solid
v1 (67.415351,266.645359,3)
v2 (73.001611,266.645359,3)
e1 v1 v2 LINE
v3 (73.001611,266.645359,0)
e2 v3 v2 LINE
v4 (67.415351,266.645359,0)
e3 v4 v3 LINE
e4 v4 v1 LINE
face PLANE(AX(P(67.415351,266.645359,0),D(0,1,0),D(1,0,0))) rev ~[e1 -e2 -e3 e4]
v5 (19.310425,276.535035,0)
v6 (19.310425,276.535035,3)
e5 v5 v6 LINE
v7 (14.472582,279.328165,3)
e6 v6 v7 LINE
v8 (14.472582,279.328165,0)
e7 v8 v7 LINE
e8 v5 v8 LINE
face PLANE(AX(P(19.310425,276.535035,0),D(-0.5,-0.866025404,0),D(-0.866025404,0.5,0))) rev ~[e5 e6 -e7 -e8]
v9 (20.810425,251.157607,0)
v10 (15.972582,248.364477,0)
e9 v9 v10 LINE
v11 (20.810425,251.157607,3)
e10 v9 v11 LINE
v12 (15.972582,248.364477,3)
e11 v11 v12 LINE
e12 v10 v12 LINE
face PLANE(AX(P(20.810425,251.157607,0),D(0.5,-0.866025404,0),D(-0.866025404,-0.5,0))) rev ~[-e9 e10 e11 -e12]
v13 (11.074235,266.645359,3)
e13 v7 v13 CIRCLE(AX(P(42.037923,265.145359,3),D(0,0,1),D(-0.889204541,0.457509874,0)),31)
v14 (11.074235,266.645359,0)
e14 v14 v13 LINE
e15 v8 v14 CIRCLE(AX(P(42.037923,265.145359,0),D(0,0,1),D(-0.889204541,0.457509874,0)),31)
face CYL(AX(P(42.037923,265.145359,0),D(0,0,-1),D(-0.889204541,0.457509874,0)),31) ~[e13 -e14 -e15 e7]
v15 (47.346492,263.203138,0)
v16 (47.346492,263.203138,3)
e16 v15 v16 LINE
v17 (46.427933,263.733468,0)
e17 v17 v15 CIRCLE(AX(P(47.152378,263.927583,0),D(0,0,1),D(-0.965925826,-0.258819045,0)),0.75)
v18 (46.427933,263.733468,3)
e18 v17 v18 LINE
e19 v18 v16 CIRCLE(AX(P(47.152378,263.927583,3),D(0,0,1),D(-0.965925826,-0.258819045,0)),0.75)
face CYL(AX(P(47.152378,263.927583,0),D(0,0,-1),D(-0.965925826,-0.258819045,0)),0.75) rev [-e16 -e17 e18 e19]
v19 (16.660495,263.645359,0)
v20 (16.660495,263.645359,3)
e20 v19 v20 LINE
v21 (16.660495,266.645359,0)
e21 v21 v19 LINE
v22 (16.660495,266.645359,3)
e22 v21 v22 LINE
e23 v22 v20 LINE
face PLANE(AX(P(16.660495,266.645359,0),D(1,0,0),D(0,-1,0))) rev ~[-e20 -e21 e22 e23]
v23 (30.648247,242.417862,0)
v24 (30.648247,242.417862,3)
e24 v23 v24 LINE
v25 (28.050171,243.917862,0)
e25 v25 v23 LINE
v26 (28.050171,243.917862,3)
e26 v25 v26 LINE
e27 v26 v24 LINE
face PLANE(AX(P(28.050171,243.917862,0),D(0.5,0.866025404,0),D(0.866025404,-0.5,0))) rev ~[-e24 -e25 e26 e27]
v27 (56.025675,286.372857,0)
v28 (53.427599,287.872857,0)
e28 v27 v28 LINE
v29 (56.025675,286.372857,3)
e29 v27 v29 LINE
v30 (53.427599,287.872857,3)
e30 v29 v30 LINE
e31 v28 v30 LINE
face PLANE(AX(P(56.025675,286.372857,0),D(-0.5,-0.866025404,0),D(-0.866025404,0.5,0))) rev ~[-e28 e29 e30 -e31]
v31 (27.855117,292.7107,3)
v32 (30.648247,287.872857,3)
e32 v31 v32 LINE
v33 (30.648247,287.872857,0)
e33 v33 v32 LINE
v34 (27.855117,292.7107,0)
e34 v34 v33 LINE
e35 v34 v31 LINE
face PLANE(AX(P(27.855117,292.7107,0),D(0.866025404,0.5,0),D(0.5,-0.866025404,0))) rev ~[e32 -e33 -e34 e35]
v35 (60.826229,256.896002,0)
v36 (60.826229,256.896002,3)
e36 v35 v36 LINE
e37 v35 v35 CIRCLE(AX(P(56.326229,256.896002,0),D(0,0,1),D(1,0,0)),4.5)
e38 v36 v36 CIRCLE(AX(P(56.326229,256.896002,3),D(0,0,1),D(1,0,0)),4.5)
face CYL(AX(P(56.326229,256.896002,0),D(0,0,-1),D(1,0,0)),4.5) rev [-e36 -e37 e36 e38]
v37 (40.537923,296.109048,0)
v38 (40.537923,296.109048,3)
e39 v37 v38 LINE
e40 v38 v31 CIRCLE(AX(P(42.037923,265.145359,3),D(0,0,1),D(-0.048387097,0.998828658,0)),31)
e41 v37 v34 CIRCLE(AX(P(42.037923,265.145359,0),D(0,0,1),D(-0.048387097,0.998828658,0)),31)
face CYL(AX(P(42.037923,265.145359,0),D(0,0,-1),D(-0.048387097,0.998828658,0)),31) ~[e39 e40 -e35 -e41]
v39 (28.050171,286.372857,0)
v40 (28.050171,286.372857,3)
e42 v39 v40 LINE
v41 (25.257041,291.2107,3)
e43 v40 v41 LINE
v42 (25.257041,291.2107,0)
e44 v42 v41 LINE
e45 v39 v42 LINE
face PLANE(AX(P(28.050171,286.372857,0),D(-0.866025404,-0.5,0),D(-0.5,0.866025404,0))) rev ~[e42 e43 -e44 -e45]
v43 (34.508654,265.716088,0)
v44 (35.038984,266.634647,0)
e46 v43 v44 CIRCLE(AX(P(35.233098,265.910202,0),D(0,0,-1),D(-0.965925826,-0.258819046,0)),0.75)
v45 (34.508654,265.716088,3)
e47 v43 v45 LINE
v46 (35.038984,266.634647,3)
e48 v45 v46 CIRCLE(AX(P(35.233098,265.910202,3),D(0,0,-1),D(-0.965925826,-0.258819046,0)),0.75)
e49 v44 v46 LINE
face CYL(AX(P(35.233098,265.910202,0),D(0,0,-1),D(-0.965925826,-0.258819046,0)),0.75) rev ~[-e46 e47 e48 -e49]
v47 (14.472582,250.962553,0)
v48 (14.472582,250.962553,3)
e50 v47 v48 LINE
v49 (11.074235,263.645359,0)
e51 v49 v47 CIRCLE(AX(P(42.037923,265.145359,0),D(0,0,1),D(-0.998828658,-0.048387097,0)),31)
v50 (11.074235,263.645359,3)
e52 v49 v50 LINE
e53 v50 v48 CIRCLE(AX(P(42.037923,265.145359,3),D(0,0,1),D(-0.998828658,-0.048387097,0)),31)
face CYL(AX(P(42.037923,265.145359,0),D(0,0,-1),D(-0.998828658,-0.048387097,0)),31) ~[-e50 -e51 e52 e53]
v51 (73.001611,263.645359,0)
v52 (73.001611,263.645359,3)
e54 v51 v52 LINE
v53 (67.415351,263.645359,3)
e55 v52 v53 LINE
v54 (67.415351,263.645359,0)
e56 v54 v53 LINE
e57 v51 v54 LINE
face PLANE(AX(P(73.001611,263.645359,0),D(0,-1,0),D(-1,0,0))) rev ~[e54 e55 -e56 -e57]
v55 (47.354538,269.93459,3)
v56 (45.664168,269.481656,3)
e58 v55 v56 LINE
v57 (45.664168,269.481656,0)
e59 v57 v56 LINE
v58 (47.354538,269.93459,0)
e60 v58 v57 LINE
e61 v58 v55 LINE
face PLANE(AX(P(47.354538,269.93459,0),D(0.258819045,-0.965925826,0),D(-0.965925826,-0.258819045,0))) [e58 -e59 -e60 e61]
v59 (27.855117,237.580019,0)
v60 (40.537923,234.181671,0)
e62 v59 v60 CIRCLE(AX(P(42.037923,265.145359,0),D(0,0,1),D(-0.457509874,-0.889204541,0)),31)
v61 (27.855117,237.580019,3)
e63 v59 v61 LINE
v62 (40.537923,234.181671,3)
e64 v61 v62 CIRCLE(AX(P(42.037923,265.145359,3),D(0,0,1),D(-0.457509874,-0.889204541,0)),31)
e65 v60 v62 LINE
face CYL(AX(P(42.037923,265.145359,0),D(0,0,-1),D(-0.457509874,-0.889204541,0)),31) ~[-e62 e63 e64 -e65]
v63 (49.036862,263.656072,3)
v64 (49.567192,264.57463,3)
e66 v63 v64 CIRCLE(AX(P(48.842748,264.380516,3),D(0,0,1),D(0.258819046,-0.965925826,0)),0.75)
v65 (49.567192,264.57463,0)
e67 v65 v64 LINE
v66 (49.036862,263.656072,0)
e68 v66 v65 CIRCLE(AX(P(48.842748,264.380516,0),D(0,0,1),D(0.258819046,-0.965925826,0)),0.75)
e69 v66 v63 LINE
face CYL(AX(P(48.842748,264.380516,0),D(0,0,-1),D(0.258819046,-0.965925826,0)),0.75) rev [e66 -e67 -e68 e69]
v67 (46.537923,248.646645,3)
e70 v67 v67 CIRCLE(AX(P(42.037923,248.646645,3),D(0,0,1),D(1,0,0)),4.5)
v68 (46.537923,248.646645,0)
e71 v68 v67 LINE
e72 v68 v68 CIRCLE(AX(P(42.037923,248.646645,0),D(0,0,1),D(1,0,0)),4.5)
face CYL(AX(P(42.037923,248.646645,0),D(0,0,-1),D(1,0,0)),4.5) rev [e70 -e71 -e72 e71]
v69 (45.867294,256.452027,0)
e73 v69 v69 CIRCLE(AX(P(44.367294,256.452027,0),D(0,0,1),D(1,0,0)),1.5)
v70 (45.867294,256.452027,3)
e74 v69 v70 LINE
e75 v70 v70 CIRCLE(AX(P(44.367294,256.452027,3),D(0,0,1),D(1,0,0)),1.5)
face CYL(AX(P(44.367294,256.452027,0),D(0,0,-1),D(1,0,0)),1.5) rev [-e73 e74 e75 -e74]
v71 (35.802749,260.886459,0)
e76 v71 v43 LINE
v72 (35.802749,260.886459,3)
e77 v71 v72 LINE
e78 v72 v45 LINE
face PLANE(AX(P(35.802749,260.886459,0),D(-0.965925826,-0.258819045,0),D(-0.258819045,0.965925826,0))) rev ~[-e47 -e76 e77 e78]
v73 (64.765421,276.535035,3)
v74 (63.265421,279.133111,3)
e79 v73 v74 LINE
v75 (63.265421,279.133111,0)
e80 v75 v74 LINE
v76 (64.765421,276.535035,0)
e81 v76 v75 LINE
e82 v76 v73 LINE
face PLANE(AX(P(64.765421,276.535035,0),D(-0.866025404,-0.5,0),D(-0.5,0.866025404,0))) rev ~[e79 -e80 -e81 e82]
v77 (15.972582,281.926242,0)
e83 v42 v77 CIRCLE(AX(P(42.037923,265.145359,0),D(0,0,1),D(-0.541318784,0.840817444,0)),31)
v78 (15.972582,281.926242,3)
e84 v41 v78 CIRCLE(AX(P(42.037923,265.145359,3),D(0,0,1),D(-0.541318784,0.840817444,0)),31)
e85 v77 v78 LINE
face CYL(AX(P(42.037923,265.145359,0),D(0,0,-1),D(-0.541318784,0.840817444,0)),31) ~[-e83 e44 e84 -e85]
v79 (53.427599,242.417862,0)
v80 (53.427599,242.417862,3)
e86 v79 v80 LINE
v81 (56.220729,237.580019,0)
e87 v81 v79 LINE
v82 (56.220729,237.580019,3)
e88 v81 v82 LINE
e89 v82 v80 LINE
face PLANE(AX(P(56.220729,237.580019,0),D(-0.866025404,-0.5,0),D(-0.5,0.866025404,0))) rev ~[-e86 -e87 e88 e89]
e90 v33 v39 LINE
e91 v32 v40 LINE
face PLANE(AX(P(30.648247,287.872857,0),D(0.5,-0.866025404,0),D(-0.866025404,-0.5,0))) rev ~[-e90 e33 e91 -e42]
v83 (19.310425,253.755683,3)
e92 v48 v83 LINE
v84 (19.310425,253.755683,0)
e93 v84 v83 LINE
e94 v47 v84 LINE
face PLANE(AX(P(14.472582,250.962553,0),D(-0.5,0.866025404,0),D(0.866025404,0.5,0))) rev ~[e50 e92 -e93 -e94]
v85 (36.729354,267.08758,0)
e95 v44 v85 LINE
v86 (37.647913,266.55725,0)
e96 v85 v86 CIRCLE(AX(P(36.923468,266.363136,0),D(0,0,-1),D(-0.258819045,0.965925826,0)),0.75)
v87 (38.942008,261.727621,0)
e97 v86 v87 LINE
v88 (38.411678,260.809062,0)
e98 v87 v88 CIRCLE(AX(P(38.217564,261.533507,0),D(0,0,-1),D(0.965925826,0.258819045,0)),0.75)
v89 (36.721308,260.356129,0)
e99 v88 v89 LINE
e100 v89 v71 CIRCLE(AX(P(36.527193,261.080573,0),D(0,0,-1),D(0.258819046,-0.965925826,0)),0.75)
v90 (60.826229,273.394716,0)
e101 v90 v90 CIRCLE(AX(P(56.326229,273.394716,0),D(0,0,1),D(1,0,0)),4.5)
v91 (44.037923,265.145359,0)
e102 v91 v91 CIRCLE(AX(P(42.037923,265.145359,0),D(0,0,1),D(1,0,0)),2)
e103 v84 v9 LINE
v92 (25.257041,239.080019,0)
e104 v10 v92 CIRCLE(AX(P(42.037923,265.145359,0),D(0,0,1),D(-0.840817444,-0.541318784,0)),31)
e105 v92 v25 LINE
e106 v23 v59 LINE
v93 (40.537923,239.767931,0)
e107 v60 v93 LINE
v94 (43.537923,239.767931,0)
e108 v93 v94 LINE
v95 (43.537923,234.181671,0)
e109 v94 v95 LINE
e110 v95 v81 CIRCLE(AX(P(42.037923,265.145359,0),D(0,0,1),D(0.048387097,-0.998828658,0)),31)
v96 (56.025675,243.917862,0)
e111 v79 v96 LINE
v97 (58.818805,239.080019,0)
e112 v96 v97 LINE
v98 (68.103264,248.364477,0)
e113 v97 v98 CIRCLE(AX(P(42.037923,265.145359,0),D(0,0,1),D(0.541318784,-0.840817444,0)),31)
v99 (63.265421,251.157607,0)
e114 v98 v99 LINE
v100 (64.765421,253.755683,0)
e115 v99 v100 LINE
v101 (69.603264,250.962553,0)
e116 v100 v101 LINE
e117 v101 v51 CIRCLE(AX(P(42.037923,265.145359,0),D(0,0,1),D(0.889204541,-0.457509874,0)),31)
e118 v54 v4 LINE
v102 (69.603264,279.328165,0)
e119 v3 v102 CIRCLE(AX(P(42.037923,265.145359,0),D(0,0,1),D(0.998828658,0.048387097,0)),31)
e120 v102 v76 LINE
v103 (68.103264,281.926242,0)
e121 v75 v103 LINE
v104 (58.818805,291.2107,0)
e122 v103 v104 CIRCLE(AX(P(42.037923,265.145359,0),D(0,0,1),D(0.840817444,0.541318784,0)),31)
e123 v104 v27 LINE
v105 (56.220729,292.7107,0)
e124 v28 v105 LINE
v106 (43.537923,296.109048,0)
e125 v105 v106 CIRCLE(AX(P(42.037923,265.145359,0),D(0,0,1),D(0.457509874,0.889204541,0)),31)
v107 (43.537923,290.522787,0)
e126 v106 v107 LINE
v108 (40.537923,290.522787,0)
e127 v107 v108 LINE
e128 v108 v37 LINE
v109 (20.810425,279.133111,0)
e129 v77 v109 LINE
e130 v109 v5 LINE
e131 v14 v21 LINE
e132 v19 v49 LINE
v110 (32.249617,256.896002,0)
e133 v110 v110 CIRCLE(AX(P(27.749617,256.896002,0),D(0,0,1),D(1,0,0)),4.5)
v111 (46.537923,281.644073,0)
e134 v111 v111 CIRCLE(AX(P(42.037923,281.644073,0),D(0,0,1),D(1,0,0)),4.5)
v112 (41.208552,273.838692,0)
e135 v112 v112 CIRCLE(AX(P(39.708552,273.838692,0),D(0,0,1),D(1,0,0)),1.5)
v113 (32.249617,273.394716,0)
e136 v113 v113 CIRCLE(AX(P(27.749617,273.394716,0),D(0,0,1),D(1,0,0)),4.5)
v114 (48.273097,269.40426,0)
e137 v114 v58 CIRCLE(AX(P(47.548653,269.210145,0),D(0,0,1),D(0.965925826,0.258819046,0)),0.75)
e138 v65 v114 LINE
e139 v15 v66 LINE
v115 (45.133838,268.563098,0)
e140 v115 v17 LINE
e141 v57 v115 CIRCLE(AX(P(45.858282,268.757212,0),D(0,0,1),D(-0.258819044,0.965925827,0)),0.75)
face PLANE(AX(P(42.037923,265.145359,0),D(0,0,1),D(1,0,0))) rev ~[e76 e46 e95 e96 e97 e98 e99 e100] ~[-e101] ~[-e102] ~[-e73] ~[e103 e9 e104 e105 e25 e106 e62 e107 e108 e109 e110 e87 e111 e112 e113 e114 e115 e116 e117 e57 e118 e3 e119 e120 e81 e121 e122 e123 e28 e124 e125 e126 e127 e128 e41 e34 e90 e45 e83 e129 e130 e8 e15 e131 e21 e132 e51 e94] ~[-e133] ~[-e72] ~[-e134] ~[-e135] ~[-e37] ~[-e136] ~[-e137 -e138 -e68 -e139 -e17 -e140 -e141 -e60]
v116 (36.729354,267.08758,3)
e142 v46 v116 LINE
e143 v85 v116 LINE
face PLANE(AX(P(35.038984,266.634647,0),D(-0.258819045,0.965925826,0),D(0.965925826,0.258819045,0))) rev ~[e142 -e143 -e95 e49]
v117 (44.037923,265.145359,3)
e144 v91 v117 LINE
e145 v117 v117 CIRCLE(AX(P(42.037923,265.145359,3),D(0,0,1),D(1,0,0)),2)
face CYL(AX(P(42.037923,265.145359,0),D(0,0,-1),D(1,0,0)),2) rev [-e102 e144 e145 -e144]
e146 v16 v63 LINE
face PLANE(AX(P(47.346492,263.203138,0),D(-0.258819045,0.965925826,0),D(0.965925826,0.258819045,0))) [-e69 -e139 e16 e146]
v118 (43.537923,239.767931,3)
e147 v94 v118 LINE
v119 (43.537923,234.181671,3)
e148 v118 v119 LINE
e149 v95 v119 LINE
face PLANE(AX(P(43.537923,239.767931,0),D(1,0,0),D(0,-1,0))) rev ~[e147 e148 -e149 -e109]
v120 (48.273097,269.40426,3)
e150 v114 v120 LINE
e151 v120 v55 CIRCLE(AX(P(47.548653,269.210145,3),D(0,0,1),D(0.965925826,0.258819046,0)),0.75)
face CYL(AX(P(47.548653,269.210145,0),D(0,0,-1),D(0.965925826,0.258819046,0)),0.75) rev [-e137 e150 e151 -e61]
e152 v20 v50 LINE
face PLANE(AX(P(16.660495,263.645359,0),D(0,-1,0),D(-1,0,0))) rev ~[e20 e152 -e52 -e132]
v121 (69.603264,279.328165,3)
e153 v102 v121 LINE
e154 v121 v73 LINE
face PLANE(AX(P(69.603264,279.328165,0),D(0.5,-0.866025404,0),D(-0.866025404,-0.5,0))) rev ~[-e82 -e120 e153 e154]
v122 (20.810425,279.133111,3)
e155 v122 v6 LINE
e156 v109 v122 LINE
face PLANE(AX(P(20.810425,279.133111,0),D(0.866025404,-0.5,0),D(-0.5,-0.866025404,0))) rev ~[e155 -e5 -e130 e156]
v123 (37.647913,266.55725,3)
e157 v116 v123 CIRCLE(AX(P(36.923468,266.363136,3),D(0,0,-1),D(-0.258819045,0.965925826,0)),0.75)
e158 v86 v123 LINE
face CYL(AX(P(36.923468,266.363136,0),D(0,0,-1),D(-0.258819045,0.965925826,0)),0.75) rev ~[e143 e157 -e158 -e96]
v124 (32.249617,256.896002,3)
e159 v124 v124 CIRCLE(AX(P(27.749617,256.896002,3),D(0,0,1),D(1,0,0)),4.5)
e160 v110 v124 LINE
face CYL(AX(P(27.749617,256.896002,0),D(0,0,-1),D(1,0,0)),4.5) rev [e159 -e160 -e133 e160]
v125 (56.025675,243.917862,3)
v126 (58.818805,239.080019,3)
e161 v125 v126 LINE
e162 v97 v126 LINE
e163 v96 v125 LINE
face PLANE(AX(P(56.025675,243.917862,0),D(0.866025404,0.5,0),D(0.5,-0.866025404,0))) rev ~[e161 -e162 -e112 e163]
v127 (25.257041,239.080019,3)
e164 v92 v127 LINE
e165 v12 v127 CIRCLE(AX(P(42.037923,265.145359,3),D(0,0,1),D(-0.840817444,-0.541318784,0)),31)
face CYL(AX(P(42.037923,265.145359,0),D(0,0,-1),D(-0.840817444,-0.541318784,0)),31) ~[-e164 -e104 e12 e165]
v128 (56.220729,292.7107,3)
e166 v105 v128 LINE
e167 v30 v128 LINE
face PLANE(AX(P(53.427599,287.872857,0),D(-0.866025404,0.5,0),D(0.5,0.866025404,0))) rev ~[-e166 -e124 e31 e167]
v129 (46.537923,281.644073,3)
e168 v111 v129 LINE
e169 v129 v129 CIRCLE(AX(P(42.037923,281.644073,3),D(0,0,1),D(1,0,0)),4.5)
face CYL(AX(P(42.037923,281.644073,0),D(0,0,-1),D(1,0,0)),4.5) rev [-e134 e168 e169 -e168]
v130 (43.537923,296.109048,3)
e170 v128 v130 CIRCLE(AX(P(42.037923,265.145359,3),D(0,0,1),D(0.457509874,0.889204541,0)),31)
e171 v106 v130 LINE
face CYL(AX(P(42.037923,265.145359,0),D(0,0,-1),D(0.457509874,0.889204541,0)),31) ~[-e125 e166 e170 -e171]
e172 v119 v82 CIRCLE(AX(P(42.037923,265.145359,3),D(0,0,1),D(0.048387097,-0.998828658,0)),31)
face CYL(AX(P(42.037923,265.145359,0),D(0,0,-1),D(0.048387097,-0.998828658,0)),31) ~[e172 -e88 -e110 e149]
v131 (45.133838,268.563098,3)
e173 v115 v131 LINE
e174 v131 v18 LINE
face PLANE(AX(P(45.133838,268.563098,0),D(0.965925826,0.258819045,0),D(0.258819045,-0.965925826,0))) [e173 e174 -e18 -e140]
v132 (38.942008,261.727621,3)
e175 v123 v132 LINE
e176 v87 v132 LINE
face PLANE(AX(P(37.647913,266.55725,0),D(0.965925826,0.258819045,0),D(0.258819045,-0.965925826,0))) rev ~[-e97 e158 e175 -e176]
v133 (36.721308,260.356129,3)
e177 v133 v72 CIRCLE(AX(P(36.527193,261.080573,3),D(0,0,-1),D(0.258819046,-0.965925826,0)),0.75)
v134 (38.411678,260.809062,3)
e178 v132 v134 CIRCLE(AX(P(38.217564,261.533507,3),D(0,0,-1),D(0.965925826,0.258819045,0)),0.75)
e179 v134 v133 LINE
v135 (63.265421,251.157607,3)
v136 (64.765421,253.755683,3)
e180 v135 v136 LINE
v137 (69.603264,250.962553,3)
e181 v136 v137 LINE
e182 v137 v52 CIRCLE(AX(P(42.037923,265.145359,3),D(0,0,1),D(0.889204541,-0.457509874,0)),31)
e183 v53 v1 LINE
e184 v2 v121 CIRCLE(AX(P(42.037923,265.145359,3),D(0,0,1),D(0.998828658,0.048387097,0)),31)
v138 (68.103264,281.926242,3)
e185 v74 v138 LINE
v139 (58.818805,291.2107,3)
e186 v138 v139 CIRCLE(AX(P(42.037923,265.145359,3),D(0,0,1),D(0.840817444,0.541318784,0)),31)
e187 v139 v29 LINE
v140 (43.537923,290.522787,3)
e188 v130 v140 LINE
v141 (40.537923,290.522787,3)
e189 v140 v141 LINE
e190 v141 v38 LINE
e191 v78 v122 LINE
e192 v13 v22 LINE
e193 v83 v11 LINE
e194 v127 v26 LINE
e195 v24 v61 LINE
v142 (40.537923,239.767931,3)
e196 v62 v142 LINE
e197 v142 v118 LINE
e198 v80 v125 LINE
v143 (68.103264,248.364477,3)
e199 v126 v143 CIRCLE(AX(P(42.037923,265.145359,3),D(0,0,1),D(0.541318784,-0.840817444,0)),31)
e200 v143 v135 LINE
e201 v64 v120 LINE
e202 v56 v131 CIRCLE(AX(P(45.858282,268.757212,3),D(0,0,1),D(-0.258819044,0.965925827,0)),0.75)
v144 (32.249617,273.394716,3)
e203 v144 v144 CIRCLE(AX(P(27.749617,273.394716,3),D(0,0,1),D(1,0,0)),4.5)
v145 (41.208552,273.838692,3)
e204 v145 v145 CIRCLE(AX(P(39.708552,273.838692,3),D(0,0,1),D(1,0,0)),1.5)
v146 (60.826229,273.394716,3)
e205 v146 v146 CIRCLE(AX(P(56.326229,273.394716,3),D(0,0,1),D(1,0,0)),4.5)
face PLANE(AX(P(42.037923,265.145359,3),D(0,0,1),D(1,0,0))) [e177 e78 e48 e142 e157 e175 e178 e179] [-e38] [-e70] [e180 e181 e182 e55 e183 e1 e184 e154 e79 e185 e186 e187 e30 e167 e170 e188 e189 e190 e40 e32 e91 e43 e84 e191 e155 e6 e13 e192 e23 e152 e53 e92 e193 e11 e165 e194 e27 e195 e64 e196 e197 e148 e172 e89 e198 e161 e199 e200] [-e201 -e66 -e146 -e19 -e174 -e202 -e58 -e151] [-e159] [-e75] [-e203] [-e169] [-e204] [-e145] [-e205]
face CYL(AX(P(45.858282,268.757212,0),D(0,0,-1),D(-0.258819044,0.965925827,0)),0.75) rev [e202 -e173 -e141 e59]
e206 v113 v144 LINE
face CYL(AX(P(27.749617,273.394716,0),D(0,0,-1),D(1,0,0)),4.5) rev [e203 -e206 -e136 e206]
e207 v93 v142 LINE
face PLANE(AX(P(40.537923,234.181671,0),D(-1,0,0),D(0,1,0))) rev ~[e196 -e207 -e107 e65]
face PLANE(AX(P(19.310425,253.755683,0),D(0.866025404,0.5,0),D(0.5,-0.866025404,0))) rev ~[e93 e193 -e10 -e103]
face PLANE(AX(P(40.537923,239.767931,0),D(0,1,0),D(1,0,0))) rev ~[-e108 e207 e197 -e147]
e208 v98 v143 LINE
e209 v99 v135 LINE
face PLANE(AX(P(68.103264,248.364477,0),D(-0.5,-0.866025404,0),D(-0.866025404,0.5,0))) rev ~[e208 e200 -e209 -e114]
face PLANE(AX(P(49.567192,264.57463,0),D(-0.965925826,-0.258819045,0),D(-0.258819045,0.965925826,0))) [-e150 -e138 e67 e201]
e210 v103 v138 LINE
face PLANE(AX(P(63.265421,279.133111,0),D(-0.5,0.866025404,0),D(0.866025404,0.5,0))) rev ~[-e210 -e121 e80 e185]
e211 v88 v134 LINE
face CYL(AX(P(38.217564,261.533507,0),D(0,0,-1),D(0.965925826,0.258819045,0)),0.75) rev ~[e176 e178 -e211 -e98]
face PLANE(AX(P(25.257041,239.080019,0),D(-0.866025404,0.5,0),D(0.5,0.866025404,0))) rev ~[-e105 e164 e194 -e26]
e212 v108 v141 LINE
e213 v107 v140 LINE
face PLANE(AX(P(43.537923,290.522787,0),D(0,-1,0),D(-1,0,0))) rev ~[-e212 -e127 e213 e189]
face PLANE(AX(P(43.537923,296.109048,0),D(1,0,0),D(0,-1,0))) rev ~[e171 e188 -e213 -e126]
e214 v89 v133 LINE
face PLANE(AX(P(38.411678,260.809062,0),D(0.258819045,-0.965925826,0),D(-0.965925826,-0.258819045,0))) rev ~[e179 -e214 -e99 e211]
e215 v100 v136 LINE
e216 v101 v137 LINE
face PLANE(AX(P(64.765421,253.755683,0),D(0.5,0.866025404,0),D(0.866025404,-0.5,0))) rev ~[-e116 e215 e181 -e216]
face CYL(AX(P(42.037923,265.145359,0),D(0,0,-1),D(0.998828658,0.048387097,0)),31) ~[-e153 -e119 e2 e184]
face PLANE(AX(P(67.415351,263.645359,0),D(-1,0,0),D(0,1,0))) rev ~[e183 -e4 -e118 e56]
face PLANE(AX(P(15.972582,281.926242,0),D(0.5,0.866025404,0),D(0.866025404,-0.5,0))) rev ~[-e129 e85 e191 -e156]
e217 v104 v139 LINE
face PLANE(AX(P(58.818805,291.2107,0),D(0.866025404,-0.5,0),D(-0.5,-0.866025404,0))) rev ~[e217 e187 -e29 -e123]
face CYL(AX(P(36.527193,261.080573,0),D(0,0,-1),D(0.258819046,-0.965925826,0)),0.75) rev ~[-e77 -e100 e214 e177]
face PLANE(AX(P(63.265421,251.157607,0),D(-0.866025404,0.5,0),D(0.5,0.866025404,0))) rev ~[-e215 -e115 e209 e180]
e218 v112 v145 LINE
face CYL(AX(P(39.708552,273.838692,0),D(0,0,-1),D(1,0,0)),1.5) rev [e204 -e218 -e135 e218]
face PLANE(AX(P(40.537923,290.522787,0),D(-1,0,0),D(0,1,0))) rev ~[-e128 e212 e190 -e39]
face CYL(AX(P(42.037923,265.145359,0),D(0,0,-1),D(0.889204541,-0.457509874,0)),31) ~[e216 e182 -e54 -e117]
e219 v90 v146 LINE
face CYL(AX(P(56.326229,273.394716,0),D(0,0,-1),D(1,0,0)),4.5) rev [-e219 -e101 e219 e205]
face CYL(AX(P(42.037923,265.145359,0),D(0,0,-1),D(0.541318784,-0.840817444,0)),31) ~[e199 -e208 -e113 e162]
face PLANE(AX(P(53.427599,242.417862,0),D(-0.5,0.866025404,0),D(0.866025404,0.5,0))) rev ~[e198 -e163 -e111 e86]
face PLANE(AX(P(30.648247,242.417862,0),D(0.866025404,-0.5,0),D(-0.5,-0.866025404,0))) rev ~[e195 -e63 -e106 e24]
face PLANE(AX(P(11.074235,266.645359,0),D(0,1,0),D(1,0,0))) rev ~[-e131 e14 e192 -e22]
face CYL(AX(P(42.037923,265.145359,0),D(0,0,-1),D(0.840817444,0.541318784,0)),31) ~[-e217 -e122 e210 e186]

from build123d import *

# Parameters (mm, degrees)
MODEL_R                 = 2
MODEL_R_2               = 1.5
MODEL_R_3               = 4.5
SALIENTE_EXTRUIR1_DEPTH = 3


with BuildPart() as part:
    # Model → Saliente-Extruir1 (new body)
    with BuildSketch(Plane.XY):
        with BuildLine():
            Line((53.427599038, 287.872856798), (56.220729127, 292.710700024))
            ThreePointArc((56.220729127, 292.710700024), (50.061313425, 295.08905988), (43.537923027, 296.109047676))
            Line((43.537923027, 296.109047676), (43.537923027, 290.522787498))
            Line((43.537923027, 290.522787498), (40.537923027, 290.522787498))
            Line((40.537923027, 290.522787498), (40.537923027, 296.109047676))
            ThreePointArc((40.537923027, 296.109047676), (34.014532629, 295.08905988), (27.855116927, 292.710700024))
            Line((27.855116927, 292.710700024), (30.648247016, 287.872856798))
            Line((30.648247016, 287.872856798), (28.050170805, 286.372856798))
            Line((28.050170805, 286.372856798), (25.257040716, 291.210700024))
            ThreePointArc((25.257040716, 291.210700024), (20.11761281, 287.065669482), (15.972582269, 281.926241576))
            Line((15.972582269, 281.926241576), (20.810425495, 279.133111488))
            Line((20.810425495, 279.133111488), (19.310425495, 276.535035276))
            Line((19.310425495, 276.535035276), (14.472582269, 279.328165365))
            ThreePointArc((14.472582269, 279.328165365), (12.094222412, 273.168749664), (11.074234616, 266.645359265))
            Line((11.074234616, 266.645359265), (16.660494794, 266.645359265))
            Line((16.660494794, 266.645359265), (16.660494794, 263.645359265))
            Line((16.660494794, 263.645359265), (11.074234616, 263.645359265))
            ThreePointArc((11.074234616, 263.645359265), (12.094222412, 257.121968867), (14.472582269, 250.962553166))
            Line((14.472582269, 250.962553166), (19.310425495, 253.755683255))
            Line((19.310425495, 253.755683255), (20.810425495, 251.157607043))
            Line((20.810425495, 251.157607043), (15.972582269, 248.364476954))
            ThreePointArc((15.972582269, 248.364476954), (20.11761281, 243.225049049), (25.257040716, 239.080018507))
            Line((25.257040716, 239.080018507), (28.050170805, 243.917861733))
            Line((28.050170805, 243.917861733), (30.648247016, 242.417861733))
            Line((30.648247016, 242.417861733), (27.855116927, 237.580018507))
            ThreePointArc((27.855116927, 237.580018507), (34.014532629, 235.20165865), (40.537923027, 234.181670855))
            Line((40.537923027, 234.181670855), (40.537923027, 239.767931032))
            Line((40.537923027, 239.767931032), (43.537923027, 239.767931032))
            Line((43.537923027, 239.767931032), (43.537923027, 234.181670855))
            ThreePointArc((43.537923027, 234.181670855), (50.061313425, 235.20165865), (56.220729127, 237.580018507))
            Line((56.220729127, 237.580018507), (53.427599038, 242.417861733))
            Line((53.427599038, 242.417861733), (56.025675249, 243.917861733))
            Line((56.025675249, 243.917861733), (58.818805338, 239.080018507))
            ThreePointArc((58.818805338, 239.080018507), (63.958233244, 243.225049049), (68.103263786, 248.364476954))
            Line((68.103263786, 248.364476954), (63.26542056, 251.157607043))
            Line((63.26542056, 251.157607043), (64.76542056, 253.755683255))
            Line((64.76542056, 253.755683255), (69.603263786, 250.962553166))
            ThreePointArc((69.603263786, 250.962553166), (71.981623642, 257.121968867), (73.001611438, 263.645359265))
            Line((73.001611438, 263.645359265), (67.41535126, 263.645359265))
            Line((67.41535126, 263.645359265), (67.41535126, 266.645359265))
            Line((67.41535126, 266.645359265), (73.001611438, 266.645359265))
            ThreePointArc((73.001611438, 266.645359265), (71.981623642, 273.168749664), (69.603263786, 279.328165365))
            Line((69.603263786, 279.328165365), (64.76542056, 276.535035276))
            Line((64.76542056, 276.535035276), (63.26542056, 279.133111488))
            Line((63.26542056, 279.133111488), (68.103263786, 281.926241576))
            ThreePointArc((68.103263786, 281.926241576), (63.958233244, 287.065669482), (58.818805338, 291.210700024))
            Line((58.818805338, 291.210700024), (56.025675249, 286.372856798))
            Line((56.025675249, 286.372856798), (53.427599038, 287.872856798))
        make_face()
        with Locations((42.037923027, 265.145359265)):
            Circle(MODEL_R, mode=Mode.SUBTRACT)
        with Locations((39.708551621, 273.838691702)):
            Circle(MODEL_R_2, mode=Mode.SUBTRACT)
        with Locations((44.367294433, 256.452026829)):
            Circle(MODEL_R_2, mode=Mode.SUBTRACT)
        with Locations((42.037923027, 281.644073382)):
            Circle(MODEL_R_3, mode=Mode.SUBTRACT)
        with Locations((27.749617473, 273.394716324)):
            Circle(MODEL_R_3, mode=Mode.SUBTRACT)
        with Locations((27.749617473, 256.896002207)):
            Circle(MODEL_R_3, mode=Mode.SUBTRACT)
        with Locations((42.037923027, 248.646645149)):
            Circle(MODEL_R_3, mode=Mode.SUBTRACT)
        with Locations((56.326228582, 256.896002207)):
            Circle(MODEL_R_3, mode=Mode.SUBTRACT)
        with Locations((56.326228582, 273.394716324)):
            Circle(MODEL_R_3, mode=Mode.SUBTRACT)
        with BuildLine():
            Line((47.354538273, 269.934589613), (45.664168077, 269.481656284))
            ThreePointArc((45.664168077, 269.481656284), (45.208763308, 269.132211915), (45.133837991, 268.563097631))
            Line((45.133837991, 268.563097631), (46.427933217, 263.733468499))
            ThreePointArc((46.427933217, 263.733468499), (46.777377587, 263.27806373), (47.34649187, 263.203138414))
            Line((47.34649187, 263.203138414), (49.036862066, 263.656071742))
            ThreePointArc((49.036862066, 263.656071742), (49.492266835, 264.005516112), (49.567192152, 264.574630396))
            Line((49.567192152, 264.574630396), (48.273096927, 269.404259527))
            ThreePointArc((48.273096927, 269.404259527), (47.923652557, 269.859664296), (47.354538273, 269.934589613))
        make_face(mode=Mode.SUBTRACT)
        with BuildLine():
            Line((35.038983988, 266.634646788), (36.729354184, 267.087580117))
            ThreePointArc((36.729354184, 267.087580117), (37.298468468, 267.0126548), (37.647912838, 266.557250031))
            Line((37.647912838, 266.557250031), (38.942008063, 261.7276209))
            ThreePointArc((38.942008063, 261.7276209), (38.867082746, 261.158506616), (38.411677977, 260.809062246))
            Line((38.411677977, 260.809062246), (36.721307781, 260.356128917))
            ThreePointArc((36.721307781, 260.356128917), (36.152193497, 260.431054234), (35.802749128, 260.886459003))
            Line((35.802749128, 260.886459003), (34.508653902, 265.716088135))
            ThreePointArc((34.508653902, 265.716088135), (34.583579219, 266.285202419), (35.038983988, 266.634646788))
        make_face(mode=Mode.SUBTRACT)
    extrude(amount=SALIENTE_EXTRUIR1_DEPTH)


solid = part.part
